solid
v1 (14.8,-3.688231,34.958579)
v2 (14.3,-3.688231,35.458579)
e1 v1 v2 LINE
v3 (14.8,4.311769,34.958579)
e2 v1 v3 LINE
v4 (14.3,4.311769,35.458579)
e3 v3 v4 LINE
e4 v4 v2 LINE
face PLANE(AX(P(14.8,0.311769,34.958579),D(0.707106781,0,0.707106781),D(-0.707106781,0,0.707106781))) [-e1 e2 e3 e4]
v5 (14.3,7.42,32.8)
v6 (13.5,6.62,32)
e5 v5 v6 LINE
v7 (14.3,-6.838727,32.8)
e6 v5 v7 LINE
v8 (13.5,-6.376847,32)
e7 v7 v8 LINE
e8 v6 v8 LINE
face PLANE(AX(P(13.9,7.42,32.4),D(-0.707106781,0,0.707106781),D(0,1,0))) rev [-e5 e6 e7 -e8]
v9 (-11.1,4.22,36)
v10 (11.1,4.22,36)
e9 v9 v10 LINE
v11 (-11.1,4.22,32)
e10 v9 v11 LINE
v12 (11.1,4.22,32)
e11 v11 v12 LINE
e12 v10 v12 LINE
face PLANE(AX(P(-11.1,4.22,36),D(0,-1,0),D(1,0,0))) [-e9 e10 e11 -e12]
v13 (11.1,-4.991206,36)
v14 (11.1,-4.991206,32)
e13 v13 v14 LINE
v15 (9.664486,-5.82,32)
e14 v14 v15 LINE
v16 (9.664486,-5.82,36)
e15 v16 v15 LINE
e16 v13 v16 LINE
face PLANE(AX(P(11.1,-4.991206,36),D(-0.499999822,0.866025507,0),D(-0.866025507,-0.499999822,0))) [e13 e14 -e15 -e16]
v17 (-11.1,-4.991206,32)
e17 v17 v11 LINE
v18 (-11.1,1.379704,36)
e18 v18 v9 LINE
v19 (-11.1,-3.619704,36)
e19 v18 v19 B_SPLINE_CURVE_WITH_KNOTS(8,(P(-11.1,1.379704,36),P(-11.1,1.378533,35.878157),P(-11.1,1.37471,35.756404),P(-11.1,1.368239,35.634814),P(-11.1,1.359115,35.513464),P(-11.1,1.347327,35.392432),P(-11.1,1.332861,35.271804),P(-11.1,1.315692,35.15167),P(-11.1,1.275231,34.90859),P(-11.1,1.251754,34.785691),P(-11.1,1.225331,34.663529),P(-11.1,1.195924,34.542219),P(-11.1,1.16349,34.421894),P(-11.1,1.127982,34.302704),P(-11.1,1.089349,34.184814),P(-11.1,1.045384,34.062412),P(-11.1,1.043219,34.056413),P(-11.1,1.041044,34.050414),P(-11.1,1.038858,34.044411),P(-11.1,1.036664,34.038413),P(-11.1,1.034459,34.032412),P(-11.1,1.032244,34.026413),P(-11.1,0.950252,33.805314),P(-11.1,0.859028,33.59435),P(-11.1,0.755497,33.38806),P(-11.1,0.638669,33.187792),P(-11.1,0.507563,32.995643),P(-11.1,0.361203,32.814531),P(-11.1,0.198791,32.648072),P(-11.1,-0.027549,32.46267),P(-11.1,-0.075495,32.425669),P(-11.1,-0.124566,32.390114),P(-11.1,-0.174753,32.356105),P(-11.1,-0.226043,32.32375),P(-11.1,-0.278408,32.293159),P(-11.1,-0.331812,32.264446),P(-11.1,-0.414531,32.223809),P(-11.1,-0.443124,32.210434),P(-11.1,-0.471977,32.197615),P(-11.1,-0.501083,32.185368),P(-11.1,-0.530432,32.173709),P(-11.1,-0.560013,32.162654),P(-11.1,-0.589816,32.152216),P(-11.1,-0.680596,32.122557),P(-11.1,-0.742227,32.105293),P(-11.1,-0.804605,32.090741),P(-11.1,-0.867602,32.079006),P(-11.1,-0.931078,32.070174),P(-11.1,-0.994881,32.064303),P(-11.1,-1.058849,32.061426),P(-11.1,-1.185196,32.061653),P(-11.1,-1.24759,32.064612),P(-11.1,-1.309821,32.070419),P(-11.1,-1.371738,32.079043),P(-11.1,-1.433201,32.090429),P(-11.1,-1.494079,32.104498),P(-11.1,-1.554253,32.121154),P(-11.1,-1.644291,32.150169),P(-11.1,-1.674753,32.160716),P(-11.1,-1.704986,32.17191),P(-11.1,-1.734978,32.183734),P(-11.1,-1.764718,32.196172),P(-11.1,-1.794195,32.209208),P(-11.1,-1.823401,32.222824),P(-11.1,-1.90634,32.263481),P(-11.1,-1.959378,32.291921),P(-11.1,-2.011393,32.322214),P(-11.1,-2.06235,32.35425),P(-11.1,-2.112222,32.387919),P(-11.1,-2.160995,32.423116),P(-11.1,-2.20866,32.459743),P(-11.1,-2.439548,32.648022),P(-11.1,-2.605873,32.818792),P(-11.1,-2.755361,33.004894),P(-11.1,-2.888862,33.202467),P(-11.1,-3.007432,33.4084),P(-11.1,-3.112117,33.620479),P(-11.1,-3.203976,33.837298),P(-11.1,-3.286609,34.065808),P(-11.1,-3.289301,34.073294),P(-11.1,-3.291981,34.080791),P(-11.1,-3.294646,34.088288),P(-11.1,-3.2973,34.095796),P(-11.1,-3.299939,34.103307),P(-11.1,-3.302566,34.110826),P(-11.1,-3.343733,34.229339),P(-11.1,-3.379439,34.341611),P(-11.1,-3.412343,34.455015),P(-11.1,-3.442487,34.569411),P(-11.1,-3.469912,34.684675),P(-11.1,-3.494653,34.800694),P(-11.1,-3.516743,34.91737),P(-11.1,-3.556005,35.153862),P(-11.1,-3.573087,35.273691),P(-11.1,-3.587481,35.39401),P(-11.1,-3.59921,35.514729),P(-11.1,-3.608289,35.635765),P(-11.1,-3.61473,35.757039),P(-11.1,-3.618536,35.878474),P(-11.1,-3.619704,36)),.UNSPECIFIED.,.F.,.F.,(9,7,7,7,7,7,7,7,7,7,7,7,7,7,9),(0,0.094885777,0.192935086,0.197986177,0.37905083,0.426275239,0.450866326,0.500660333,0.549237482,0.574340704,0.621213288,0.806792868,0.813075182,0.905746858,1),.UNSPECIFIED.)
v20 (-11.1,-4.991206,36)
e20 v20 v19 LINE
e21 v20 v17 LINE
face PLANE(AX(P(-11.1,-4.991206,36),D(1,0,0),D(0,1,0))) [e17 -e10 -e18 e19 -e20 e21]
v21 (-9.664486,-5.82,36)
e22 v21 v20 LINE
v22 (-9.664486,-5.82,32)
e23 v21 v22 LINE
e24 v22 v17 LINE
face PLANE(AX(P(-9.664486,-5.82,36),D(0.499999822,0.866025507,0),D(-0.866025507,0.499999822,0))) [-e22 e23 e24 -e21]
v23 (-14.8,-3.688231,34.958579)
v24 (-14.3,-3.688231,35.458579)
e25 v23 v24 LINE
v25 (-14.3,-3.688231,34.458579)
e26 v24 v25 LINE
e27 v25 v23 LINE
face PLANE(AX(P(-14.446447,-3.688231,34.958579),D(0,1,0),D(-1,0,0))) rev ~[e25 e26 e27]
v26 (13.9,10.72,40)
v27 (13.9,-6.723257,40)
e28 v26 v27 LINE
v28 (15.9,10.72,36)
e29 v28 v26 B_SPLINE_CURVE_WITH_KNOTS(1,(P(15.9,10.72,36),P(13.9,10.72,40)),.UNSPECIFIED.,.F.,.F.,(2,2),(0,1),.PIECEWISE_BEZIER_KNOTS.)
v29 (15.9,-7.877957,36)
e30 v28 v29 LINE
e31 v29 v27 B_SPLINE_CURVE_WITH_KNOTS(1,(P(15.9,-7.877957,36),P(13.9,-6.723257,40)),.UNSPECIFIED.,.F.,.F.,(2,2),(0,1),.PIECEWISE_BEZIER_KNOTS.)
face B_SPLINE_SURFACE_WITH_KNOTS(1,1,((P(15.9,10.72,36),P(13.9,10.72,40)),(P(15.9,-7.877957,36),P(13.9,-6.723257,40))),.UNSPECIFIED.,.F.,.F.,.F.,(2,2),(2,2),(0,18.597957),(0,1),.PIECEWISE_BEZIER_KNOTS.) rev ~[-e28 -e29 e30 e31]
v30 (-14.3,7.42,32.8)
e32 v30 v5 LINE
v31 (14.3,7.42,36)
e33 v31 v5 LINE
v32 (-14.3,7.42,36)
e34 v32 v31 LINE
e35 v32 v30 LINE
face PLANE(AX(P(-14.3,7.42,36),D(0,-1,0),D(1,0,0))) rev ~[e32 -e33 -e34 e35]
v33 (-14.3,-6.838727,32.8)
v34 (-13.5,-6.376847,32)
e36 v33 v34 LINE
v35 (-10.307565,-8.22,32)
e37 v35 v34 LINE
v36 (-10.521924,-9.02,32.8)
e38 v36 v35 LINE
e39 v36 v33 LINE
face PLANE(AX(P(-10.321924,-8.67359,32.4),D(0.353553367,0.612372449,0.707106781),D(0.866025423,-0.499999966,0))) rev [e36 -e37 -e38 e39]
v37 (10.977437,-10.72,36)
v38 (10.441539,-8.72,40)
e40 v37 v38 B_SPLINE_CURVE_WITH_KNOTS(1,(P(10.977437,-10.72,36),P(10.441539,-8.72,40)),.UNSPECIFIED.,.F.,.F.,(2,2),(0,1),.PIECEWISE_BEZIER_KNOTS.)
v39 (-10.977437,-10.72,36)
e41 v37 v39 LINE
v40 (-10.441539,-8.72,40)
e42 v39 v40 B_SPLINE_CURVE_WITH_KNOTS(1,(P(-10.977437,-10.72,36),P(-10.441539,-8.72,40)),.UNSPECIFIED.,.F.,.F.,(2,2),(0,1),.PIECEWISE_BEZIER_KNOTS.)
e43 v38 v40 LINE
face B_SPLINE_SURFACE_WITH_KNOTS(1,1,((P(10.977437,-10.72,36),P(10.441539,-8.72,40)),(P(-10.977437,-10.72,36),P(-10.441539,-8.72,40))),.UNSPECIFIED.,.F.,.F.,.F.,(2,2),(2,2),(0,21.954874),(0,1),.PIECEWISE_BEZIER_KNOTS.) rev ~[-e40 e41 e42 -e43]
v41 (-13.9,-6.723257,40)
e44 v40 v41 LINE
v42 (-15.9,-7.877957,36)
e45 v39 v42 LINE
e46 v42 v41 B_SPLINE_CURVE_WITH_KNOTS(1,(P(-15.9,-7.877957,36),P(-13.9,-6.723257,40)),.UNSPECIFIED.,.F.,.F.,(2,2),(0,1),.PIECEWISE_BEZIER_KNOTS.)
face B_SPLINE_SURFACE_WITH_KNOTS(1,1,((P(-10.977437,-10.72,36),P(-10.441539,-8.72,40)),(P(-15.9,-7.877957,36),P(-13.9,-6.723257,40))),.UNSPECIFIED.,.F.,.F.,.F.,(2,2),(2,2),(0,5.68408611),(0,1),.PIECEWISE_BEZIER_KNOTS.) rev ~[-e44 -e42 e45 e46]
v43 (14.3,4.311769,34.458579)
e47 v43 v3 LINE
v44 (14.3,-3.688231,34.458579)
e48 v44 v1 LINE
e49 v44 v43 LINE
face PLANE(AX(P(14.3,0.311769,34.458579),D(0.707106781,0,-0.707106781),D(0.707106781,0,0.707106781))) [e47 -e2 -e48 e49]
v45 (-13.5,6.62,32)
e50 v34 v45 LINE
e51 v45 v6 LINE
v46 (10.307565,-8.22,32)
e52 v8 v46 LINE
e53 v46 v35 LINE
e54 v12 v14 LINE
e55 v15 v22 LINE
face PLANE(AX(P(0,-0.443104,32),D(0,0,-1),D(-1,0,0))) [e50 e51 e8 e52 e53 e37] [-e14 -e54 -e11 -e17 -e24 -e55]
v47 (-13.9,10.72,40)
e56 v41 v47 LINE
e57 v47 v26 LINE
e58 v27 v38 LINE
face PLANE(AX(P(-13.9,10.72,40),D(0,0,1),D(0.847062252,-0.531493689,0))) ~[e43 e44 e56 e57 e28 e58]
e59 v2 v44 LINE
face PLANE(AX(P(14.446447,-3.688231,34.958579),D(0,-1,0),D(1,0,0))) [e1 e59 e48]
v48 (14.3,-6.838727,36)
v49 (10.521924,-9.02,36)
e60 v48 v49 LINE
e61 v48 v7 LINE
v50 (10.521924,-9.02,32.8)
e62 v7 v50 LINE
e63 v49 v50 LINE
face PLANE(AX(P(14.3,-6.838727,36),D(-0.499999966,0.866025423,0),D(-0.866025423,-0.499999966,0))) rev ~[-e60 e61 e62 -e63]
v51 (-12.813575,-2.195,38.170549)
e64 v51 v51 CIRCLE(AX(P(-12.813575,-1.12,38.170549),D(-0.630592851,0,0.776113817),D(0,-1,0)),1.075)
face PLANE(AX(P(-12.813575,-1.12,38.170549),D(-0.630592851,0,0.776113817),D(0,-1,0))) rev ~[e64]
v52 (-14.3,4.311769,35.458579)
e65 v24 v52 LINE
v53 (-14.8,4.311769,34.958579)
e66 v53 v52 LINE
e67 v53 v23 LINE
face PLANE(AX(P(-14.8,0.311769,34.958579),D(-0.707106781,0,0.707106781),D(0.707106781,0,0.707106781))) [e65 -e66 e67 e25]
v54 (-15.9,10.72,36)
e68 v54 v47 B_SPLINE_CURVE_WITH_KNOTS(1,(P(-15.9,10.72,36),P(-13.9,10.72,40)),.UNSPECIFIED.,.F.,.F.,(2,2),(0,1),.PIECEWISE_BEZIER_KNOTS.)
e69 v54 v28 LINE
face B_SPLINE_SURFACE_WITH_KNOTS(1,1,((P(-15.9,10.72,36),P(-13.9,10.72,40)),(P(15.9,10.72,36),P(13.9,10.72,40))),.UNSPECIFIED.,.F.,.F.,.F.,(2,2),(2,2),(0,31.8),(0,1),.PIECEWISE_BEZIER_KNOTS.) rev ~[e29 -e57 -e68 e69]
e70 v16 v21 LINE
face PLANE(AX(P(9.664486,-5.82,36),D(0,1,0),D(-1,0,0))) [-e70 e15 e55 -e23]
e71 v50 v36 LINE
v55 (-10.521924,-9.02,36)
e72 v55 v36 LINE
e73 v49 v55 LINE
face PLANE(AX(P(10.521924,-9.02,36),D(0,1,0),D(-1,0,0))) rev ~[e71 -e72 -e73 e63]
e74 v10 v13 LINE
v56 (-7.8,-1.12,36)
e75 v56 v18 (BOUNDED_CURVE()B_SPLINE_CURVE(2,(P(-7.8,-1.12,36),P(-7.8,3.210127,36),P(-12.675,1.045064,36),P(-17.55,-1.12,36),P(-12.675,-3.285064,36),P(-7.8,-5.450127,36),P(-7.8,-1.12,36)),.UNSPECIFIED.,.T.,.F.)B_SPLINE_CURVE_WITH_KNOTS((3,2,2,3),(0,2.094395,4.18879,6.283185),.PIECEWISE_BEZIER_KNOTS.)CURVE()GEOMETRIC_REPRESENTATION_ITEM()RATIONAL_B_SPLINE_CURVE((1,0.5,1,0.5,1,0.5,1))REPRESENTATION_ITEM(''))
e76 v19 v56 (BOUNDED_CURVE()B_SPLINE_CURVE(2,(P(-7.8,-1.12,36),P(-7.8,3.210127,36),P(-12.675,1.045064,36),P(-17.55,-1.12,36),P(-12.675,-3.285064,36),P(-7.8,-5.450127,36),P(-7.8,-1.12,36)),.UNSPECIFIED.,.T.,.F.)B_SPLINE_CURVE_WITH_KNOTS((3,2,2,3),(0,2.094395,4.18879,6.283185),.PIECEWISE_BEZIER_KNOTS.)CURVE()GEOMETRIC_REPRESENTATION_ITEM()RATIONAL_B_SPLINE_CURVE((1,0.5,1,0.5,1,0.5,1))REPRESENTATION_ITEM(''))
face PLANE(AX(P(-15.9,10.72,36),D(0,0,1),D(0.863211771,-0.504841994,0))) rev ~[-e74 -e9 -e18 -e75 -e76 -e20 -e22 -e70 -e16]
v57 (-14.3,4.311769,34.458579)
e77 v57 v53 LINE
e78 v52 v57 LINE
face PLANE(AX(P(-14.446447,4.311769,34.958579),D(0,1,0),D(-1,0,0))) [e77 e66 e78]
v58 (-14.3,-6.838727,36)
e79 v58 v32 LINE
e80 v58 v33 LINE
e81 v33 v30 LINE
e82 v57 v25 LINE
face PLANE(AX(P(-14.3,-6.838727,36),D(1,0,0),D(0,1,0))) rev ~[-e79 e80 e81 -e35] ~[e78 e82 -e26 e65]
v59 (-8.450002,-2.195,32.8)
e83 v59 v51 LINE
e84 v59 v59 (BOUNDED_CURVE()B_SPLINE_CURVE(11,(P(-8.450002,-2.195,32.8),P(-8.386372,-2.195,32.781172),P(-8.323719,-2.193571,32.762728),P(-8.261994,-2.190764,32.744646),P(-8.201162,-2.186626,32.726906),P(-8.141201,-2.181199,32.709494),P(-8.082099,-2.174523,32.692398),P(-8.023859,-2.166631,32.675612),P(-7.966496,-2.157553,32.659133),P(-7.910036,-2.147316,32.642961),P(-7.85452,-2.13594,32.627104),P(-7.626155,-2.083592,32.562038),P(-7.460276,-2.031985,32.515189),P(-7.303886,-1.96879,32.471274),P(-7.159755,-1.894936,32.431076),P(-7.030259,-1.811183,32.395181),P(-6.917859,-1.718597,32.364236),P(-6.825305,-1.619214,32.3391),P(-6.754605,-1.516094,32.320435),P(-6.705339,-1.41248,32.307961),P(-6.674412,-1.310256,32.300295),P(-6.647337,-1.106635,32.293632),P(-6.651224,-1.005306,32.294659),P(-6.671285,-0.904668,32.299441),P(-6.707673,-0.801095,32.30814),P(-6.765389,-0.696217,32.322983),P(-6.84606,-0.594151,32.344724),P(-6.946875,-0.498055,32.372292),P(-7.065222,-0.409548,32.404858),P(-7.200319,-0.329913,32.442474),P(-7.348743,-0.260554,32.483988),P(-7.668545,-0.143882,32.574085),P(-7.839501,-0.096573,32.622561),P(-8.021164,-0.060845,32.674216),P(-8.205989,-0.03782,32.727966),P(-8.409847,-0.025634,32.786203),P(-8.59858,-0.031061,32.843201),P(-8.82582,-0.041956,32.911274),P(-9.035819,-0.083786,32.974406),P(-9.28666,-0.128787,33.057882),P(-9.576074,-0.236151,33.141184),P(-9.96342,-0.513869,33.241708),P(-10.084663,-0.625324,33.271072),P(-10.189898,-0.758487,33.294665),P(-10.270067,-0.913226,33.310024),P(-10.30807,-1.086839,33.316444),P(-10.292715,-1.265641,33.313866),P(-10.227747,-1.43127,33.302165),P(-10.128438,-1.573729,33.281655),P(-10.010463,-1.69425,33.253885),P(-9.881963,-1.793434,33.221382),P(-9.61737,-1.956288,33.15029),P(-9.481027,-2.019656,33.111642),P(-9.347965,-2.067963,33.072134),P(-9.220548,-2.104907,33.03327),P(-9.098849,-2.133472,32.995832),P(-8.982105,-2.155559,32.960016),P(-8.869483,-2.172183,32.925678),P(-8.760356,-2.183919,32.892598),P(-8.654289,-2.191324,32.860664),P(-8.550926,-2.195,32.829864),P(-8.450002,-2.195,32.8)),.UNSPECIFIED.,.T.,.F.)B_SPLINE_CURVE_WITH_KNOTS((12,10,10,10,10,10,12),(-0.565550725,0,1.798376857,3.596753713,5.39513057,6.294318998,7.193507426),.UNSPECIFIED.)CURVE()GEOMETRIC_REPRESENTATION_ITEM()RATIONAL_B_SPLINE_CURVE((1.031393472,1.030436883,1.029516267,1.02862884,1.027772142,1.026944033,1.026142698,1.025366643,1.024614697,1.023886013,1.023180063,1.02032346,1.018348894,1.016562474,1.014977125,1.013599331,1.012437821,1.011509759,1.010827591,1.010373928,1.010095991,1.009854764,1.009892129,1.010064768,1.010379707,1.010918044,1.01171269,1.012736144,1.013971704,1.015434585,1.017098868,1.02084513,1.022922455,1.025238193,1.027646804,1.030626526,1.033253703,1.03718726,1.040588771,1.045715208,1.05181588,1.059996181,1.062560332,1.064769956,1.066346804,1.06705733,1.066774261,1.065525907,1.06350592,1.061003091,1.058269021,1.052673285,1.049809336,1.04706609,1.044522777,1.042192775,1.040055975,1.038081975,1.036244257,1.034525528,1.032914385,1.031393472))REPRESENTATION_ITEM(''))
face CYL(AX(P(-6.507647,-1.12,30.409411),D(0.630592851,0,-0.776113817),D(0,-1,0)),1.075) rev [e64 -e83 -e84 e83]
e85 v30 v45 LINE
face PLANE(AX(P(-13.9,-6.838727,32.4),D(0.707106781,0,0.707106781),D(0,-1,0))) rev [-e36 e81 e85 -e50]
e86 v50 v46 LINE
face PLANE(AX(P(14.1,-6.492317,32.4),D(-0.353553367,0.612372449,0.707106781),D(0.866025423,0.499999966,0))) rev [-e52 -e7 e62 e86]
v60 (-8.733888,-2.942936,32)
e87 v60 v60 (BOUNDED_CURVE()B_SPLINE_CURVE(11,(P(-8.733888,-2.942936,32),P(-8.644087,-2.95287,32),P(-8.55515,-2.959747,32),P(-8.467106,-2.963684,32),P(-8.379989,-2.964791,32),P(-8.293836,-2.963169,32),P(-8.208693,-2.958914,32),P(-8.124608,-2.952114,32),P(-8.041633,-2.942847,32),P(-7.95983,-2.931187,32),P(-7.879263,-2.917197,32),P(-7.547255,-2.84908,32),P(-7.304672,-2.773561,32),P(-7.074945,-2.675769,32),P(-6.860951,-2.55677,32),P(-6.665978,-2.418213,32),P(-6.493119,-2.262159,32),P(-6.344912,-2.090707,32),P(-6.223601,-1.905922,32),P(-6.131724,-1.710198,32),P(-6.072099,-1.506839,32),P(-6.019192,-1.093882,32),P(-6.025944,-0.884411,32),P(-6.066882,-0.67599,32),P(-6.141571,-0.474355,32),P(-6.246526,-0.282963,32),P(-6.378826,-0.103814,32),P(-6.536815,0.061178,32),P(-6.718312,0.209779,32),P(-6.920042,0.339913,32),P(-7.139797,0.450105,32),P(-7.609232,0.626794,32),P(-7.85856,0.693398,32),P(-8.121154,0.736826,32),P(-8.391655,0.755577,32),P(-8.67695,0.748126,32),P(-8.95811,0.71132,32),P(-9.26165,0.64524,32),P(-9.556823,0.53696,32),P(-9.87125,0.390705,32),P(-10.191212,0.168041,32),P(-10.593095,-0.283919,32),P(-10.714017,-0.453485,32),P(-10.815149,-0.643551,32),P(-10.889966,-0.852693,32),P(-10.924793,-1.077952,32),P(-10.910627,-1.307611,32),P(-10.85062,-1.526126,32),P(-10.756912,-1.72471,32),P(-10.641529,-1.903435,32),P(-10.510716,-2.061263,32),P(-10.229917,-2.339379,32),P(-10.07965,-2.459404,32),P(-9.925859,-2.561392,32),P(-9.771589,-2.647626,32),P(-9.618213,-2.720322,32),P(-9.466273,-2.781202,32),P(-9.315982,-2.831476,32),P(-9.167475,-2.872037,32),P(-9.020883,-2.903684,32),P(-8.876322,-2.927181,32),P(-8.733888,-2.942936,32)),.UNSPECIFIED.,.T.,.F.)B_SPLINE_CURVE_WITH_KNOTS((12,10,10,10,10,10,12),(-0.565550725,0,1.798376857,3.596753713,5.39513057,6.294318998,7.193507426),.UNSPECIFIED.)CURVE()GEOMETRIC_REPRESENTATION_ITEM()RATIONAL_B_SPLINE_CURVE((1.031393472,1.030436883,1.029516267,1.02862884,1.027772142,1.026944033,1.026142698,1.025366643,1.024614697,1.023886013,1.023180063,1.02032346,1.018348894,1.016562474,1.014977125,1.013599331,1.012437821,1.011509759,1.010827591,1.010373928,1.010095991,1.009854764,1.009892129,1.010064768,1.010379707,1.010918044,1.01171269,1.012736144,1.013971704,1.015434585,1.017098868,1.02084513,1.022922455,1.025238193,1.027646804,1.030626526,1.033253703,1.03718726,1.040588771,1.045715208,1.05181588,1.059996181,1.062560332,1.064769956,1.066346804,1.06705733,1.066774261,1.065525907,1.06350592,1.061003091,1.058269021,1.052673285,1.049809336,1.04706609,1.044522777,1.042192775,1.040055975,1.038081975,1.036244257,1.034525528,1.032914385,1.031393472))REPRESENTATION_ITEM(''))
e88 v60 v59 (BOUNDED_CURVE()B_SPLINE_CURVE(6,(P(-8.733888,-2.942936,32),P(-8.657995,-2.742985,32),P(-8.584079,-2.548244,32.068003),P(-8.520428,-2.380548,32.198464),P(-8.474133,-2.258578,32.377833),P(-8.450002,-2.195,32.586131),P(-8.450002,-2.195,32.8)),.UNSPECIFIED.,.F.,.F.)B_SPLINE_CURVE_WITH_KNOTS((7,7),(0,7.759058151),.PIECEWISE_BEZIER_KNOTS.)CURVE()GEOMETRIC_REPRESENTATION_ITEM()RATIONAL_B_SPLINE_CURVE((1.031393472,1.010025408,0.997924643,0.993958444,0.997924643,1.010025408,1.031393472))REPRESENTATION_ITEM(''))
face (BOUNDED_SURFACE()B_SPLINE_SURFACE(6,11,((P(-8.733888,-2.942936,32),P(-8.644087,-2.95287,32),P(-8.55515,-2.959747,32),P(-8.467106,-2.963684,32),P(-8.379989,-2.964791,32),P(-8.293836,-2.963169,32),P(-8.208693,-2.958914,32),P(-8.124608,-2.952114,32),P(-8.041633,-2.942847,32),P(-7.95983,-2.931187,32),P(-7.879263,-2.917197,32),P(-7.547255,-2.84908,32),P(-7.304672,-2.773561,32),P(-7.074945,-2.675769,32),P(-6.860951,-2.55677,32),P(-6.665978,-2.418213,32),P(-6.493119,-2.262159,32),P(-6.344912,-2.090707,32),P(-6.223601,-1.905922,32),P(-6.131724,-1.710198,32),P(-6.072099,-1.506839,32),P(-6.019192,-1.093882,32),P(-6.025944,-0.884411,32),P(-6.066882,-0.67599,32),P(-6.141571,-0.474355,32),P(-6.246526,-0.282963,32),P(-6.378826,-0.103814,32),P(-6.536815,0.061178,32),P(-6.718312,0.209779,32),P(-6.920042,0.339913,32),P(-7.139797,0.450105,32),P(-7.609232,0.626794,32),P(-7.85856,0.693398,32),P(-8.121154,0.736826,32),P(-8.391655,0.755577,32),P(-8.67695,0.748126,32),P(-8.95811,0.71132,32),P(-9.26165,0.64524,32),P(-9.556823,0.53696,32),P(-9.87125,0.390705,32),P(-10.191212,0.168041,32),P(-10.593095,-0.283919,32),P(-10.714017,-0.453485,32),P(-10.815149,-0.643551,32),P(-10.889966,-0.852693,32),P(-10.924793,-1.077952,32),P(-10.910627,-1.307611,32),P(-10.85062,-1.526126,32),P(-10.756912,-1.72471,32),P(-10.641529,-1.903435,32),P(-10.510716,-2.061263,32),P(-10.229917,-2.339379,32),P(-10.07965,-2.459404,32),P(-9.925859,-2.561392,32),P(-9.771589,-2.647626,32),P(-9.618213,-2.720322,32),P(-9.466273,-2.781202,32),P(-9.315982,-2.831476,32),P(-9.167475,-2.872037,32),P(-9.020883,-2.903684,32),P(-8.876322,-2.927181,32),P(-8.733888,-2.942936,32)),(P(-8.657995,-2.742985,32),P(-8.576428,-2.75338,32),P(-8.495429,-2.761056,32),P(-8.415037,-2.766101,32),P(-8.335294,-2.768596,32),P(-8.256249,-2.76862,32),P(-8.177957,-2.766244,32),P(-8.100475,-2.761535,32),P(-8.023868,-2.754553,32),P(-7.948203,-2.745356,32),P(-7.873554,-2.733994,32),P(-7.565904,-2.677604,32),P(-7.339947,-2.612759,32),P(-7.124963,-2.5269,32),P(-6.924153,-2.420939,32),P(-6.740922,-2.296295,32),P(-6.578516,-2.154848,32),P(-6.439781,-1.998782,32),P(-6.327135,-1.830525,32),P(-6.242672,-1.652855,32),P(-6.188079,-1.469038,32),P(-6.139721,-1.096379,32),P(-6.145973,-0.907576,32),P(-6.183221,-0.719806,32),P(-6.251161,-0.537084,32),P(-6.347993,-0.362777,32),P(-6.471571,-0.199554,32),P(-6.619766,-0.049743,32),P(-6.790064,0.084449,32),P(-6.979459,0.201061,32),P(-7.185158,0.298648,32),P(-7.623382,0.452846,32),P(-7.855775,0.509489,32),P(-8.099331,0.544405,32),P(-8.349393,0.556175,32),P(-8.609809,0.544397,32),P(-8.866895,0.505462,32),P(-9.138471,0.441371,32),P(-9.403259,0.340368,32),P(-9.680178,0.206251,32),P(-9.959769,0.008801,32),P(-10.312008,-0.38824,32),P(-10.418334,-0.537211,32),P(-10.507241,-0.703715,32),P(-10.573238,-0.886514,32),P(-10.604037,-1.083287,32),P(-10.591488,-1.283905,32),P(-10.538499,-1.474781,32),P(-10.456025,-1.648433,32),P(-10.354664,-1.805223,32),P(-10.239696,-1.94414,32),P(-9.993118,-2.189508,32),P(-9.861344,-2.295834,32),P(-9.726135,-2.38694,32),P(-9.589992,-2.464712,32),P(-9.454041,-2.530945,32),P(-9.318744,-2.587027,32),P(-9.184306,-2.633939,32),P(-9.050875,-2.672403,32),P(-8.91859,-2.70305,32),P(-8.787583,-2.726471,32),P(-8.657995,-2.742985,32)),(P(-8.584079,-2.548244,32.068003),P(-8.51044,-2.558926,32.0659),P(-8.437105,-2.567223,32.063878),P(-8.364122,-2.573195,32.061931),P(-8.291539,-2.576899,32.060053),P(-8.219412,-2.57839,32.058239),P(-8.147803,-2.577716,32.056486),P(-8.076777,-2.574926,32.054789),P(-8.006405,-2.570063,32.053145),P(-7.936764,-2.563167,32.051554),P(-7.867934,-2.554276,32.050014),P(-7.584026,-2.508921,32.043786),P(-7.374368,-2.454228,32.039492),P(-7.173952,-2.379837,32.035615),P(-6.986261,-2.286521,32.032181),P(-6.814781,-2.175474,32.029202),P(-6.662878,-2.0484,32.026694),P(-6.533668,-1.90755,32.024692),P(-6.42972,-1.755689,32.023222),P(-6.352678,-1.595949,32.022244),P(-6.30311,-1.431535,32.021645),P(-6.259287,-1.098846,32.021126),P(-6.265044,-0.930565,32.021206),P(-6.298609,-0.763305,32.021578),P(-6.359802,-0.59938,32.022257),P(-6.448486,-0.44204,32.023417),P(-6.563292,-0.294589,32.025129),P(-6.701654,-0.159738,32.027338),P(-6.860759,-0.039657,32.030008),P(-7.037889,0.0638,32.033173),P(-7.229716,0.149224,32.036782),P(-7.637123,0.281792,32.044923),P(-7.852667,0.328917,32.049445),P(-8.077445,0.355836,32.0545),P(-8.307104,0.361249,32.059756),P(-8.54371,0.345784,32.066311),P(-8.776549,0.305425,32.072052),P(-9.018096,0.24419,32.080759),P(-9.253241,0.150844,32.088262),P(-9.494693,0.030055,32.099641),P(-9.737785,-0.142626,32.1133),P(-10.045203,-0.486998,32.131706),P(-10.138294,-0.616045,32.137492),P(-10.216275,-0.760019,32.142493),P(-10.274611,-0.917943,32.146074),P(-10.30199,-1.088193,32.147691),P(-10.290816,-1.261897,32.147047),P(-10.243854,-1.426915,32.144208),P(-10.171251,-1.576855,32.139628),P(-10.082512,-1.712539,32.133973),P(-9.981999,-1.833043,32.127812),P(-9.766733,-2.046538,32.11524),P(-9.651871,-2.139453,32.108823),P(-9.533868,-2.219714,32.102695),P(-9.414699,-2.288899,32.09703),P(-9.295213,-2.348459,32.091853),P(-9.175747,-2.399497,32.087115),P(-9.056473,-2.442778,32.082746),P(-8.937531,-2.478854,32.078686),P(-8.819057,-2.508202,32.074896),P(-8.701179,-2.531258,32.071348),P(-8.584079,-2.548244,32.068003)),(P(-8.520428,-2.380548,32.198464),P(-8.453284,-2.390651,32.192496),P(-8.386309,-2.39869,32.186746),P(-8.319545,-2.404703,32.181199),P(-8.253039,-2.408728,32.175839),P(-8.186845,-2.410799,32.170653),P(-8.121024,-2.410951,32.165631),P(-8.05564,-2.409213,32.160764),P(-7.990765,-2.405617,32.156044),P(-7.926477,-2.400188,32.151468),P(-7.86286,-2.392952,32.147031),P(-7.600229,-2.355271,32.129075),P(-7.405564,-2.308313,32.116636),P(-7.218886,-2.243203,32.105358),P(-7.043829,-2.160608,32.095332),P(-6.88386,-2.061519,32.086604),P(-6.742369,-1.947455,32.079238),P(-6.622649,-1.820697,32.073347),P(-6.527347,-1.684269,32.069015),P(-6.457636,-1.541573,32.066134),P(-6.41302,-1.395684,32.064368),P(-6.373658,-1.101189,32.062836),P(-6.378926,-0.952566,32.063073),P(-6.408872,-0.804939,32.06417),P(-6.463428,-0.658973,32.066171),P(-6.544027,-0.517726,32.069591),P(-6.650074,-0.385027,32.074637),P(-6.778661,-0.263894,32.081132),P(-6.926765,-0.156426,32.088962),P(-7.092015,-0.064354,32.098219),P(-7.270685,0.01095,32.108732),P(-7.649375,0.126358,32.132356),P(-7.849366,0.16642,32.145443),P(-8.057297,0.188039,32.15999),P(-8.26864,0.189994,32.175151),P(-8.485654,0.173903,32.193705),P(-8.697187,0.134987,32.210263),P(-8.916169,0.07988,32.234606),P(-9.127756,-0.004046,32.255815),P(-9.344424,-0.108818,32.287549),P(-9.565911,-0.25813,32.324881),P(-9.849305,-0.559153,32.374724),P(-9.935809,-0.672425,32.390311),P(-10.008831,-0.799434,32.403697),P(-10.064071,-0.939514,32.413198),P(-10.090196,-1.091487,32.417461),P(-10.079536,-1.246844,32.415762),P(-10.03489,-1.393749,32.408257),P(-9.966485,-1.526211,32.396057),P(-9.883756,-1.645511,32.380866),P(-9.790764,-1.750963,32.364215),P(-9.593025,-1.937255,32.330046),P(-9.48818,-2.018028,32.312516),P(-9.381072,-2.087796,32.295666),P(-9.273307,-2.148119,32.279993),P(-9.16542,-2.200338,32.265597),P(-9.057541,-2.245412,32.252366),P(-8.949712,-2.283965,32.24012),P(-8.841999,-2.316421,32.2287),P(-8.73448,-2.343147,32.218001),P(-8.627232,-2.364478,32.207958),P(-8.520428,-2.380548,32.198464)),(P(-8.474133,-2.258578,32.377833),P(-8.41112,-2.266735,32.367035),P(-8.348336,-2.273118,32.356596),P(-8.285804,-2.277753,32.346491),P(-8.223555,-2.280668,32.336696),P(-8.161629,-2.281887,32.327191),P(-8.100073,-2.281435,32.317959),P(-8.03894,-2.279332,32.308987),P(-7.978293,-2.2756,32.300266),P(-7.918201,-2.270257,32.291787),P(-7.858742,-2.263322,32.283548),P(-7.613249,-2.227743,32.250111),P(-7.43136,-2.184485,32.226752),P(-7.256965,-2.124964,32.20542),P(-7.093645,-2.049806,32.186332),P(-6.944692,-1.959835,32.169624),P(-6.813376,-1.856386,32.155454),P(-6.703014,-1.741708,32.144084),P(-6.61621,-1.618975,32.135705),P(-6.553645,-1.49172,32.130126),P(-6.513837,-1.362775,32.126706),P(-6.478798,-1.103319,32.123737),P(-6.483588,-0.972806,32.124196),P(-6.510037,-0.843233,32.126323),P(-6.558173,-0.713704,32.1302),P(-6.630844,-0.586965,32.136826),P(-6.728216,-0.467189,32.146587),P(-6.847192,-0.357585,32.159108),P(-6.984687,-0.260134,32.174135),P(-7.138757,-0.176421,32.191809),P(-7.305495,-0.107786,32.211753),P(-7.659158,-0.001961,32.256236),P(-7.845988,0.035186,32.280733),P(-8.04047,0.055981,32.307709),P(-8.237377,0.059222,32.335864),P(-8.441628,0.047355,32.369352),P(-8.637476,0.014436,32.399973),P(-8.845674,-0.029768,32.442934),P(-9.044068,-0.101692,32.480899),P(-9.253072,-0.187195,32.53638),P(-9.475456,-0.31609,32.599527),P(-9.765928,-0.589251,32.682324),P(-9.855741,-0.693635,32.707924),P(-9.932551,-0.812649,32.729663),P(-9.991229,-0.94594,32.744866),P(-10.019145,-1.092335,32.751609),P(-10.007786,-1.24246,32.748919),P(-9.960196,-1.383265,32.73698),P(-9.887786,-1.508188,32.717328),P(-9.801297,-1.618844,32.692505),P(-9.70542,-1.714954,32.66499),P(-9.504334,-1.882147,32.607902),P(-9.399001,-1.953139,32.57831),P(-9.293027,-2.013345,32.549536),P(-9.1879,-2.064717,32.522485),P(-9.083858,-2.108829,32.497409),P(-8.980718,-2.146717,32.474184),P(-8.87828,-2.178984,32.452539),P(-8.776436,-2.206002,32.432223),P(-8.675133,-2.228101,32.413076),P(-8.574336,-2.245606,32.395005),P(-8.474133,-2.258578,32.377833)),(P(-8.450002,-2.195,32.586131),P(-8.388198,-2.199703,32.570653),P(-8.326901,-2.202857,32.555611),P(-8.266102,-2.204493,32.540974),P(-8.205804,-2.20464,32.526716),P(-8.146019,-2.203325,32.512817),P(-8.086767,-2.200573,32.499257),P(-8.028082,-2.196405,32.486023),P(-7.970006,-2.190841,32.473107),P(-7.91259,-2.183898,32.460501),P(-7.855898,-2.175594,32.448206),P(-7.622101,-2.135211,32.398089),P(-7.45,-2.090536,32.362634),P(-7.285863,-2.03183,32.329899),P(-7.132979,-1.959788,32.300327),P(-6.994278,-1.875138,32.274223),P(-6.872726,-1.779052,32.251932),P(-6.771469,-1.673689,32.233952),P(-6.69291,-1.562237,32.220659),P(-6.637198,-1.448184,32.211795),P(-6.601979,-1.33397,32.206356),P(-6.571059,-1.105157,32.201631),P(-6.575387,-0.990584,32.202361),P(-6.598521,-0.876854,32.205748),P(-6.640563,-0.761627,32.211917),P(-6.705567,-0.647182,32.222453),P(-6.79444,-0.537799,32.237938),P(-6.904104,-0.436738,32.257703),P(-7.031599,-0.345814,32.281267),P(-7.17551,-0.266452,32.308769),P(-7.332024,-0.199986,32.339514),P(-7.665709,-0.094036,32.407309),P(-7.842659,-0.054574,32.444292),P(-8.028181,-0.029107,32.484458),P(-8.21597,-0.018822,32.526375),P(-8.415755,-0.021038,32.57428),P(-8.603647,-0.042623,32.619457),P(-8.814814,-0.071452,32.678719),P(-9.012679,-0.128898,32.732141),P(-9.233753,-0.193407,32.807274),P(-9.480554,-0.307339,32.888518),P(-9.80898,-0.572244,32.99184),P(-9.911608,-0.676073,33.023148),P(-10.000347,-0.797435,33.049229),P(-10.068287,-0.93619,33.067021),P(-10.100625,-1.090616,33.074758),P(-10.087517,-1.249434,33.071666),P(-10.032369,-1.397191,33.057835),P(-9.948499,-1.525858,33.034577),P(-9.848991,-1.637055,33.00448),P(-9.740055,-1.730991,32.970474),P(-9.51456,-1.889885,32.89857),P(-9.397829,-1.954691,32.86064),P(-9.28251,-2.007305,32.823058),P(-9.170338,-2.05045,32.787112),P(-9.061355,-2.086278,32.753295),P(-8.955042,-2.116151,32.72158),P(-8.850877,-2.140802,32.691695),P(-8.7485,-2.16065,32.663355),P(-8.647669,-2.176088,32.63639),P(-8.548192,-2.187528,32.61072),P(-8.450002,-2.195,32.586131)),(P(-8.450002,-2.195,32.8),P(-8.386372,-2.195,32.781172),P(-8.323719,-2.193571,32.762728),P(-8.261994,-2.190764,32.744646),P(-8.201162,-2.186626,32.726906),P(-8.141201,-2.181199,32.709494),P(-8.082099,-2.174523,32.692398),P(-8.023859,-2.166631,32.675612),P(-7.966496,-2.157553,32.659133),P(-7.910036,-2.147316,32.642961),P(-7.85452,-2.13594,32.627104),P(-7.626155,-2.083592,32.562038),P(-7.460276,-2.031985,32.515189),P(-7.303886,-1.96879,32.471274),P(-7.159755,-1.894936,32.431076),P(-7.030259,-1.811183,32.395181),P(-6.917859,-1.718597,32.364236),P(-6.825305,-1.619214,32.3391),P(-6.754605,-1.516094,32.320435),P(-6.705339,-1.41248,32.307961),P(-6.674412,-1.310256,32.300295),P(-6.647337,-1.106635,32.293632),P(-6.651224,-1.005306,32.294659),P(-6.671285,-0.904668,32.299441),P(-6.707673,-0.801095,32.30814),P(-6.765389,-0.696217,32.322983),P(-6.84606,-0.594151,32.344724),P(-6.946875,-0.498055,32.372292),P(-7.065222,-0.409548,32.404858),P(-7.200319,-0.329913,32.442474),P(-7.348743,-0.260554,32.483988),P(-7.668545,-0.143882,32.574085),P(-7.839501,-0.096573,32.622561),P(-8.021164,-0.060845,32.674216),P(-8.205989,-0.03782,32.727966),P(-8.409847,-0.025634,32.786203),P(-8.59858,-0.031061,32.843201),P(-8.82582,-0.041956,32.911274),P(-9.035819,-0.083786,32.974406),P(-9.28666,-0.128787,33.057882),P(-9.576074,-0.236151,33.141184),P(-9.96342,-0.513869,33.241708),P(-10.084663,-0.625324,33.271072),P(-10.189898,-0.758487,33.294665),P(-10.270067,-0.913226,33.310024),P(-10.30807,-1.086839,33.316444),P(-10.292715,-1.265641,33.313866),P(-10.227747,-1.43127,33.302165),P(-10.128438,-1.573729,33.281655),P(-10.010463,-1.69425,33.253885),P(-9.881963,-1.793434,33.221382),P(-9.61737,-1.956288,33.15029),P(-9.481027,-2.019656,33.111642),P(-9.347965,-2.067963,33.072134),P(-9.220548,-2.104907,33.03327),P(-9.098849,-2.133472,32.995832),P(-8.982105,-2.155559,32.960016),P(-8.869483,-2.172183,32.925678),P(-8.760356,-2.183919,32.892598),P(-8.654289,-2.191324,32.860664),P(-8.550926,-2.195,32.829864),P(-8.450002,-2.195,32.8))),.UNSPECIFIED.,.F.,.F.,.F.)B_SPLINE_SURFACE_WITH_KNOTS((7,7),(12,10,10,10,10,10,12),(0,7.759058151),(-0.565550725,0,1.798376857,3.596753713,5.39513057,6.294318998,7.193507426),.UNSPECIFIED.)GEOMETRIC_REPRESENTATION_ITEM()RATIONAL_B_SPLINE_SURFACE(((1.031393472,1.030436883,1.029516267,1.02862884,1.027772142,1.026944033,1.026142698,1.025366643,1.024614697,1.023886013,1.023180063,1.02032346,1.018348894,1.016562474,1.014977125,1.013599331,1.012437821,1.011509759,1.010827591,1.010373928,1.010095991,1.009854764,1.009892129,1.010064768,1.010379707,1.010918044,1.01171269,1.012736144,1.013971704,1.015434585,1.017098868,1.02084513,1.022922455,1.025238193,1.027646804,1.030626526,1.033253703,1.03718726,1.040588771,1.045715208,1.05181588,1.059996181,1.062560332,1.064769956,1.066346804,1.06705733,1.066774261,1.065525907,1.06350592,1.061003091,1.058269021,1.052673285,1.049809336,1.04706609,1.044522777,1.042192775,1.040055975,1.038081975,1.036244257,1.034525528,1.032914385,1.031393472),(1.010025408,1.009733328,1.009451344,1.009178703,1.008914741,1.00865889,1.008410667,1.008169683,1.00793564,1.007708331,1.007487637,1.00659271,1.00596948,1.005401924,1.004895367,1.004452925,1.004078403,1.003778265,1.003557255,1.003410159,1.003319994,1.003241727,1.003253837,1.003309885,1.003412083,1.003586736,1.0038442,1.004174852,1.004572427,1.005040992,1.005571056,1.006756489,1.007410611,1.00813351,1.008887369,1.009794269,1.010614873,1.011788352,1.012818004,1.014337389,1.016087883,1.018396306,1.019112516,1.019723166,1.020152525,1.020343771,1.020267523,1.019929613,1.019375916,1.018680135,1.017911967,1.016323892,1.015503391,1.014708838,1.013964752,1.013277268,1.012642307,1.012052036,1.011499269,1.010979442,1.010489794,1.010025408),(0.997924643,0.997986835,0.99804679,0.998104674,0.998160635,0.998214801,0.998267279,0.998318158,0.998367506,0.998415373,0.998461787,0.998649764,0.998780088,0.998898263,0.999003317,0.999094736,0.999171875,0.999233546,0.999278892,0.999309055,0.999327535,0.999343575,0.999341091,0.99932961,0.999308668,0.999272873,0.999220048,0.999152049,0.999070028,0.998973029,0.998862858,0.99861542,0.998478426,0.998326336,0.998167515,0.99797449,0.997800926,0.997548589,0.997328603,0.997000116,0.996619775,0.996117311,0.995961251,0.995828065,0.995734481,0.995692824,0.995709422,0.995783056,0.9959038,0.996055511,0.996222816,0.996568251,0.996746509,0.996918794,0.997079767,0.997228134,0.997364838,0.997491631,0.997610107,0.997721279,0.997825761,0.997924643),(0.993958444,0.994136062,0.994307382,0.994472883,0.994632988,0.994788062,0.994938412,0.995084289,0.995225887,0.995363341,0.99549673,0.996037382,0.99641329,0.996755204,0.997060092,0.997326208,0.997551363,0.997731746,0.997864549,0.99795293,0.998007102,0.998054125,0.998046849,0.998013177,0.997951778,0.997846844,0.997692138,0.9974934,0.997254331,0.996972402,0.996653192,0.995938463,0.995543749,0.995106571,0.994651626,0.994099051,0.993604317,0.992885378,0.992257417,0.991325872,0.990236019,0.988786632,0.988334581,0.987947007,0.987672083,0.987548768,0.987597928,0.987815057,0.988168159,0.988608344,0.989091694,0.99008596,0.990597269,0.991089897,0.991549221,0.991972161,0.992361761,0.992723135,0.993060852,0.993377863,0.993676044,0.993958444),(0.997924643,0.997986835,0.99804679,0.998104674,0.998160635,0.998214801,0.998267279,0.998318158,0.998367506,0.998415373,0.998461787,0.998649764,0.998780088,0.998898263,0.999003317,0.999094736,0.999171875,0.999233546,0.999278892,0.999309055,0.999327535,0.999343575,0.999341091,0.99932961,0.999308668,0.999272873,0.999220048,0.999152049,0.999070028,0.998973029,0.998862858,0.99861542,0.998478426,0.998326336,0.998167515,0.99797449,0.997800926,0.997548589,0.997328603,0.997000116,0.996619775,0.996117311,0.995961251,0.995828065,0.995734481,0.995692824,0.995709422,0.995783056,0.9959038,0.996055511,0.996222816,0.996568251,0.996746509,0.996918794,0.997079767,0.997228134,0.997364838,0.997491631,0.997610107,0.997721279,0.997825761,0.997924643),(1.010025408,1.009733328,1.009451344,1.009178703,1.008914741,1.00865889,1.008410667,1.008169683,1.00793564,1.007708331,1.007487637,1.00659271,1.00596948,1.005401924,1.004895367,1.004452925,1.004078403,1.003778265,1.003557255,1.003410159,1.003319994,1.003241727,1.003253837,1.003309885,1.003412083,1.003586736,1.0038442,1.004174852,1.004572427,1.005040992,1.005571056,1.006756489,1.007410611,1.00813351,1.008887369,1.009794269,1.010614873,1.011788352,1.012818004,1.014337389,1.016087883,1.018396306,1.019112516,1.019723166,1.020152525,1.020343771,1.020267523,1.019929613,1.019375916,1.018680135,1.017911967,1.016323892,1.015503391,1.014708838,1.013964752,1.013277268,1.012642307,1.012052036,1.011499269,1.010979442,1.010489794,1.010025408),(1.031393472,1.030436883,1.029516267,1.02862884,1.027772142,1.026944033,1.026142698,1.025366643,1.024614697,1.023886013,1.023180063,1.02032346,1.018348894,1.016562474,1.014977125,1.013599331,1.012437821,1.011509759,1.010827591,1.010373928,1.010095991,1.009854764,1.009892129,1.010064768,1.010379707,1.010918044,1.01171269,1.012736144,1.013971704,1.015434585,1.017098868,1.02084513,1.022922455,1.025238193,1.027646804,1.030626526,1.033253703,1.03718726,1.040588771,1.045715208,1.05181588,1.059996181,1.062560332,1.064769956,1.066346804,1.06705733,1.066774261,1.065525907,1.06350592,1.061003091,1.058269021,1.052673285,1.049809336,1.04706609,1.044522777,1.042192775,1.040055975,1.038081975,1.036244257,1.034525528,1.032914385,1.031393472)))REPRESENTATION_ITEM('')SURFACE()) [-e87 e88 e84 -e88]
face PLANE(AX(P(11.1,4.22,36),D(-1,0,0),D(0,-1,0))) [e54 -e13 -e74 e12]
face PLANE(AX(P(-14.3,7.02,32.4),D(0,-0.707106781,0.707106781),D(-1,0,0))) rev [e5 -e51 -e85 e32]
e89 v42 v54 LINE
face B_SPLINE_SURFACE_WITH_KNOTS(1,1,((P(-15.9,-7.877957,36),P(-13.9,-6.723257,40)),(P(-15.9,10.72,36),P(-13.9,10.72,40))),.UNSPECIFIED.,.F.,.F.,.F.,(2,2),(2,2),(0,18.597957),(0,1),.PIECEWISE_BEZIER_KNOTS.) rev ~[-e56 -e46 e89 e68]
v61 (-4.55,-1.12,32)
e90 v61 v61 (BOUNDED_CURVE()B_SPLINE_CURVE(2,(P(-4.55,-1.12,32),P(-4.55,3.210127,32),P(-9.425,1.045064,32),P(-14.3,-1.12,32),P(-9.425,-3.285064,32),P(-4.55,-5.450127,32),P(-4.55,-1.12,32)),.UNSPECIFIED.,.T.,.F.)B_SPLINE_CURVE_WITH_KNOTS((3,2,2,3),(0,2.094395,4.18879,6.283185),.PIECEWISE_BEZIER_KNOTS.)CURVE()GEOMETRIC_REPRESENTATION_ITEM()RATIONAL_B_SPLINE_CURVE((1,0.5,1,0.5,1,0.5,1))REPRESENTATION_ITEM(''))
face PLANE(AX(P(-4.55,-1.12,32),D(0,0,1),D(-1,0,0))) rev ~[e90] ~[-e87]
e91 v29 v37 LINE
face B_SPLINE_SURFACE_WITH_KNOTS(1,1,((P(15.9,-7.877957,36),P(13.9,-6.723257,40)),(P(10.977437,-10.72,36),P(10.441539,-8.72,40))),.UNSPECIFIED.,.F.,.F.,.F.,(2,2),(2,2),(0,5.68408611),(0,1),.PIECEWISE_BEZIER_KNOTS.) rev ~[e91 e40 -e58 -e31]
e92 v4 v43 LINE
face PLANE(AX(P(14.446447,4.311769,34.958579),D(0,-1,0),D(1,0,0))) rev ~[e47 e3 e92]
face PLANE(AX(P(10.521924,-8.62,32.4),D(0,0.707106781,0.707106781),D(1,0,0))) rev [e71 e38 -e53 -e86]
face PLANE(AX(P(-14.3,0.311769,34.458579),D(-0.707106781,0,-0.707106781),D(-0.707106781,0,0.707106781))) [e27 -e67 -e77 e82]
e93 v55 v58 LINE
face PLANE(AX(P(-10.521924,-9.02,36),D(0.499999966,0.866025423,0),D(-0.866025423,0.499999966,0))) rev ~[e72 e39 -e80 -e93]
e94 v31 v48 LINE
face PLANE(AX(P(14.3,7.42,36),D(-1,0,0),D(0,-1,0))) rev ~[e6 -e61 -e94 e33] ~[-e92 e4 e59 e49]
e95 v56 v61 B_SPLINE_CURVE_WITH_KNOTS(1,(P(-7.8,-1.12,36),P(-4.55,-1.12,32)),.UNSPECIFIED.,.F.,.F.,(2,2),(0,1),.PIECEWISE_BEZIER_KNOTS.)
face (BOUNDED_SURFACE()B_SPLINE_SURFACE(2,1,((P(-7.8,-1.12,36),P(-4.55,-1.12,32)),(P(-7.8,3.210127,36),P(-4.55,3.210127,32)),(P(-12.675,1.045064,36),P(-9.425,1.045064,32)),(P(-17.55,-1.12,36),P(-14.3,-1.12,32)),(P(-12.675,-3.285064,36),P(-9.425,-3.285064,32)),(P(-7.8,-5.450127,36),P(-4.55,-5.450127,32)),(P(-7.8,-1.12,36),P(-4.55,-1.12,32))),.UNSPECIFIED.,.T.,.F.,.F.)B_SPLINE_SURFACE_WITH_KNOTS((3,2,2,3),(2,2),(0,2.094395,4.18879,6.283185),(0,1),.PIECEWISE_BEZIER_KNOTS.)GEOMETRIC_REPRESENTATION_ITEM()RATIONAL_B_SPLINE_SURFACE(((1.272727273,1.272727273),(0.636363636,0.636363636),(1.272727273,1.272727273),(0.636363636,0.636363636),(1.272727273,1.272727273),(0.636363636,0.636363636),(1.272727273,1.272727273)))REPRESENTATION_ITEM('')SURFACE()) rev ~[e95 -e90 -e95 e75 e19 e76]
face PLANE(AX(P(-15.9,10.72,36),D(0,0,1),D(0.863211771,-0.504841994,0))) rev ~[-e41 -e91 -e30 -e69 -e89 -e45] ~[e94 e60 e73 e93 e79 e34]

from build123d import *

# Parameters (mm, degrees)
PAD004_DEPTH    = 4
CHAMFER002_SIZE = 0.8
PAD015_DEPTH    = 4
SKETCH039_R     = 1.075
POCKET005_DEPTH = 10
FILLET003_R     = 0.8


with BuildPart() as part:
    # Sketch015 → AdditiveLoft001 section 0
    with BuildSketch(Plane.XY.offset(36)):
        Polygon((-15.9, 10.72), (15.9, 10.72), (15.9, -7.877957), (10.977437, -10.72), (-10.977437, -10.72), (-15.9, -7.877957), align=None)
    # Sketch016 → AdditiveLoft001 section 1
    with BuildSketch(Plane.XY.offset(40)):
        Polygon((-13.9, -6.723257), (-13.9, 10.72), (13.9, 10.72), (13.9, -6.723257), (10.441539, -8.72), (-10.441539, -8.72), align=None)
    loft()

    # Sketch017 → Pad004 (new body)
    with BuildSketch(Plane.XY.offset(36)):
        Polygon((-14.3, 7.42), (14.3, 7.42), (14.3, -6.838727), (10.521924, -9.02), (-10.521924, -9.02), (-14.3, -6.838727), align=None)
        Polygon((-11.1, 4.22), (11.1, 4.22), (11.1, -4.991206), (9.664486, -5.82), (-9.664486, -5.82), (-11.1, -4.991206), align=None, mode=Mode.SUBTRACT)
    extrude(amount=-PAD004_DEPTH)

    # Chamfer002
    chamfer002_edges = [part.edges().sort_by_distance(p)[0] for p in [
        (-14.3, 0.290637, 32),
        (-12.410962, -7.929363, 32),
        (0, -9.02, 32),
        (12.410962, -7.929363, 32),
        (14.3, 0.290637, 32),
        (0, 7.42, 32),
    ]]
    chamfer(chamfer002_edges, length=CHAMFER002_SIZE)

    # Sketch040 (on DatumPlane) → Pad015 (join, symmetric)
    with BuildSketch(Plane(origin=(-14.8, 0.311769, 0), x_dir=(-1, 0, 0), z_dir=(0, 1, 0))):
        Polygon((-29.6, 34.958579), (-29.1, 35.458579), (-29.1, 34.458579), align=None)
        Polygon((0, 34.958579), (-0.5, 35.458579), (-0.5, 34.458579), align=None)
    extrude(amount=PAD015_DEPTH, both=True)

    # Sketch018 → AdditiveLoft002 section 0
    with BuildSketch(Plane.XY.offset(36)):
        with BuildLine():
            add(Edge.make_bspline(
                [(-7.8, -1.12), (-7.8, 3.210127), (-12.675, 1.045064), (-17.55, -1.12), (-12.675, -3.285064), (-7.8, -5.450127), (-7.8, -1.12)],
                knots=[0, 0, 0, 2.094395, 2.094395, 4.18879, 4.18879, 6.283185, 6.283185, 6.283185], degree=2, weights=[1, 0.5, 1, 0.5, 1, 0.5, 1]))
        make_face()
    # Sketch019 → AdditiveLoft002 section 1
    with BuildSketch(Plane.XY.offset(32)):
        with BuildLine():
            add(Edge.make_bspline(
                [(-4.55, -1.12), (-4.55, 3.210127), (-9.425, 1.045064), (-14.3, -1.12), (-9.425, -3.285064), (-4.55, -5.450127), (-4.55, -1.12)],
                knots=[0, 0, 0, 2.094395, 2.094395, 4.18879, 4.18879, 6.283185, 6.283185, 6.283185], degree=2, weights=[1, 0.5, 1, 0.5, 1, 0.5, 1]))
        make_face()
    loft()

    # Sketch039 (on DatumPlane) → Pocket005 (cut)
    with BuildSketch(Plane(origin=(-4.55, -1.12, 32), x_dir=(0, -1, 0), z_dir=(-0.630593, 0, 0.776114))):
        with Locations((0, -2.522371)):
            Circle(SKETCH039_R)
    extrude(amount=POCKET005_DEPTH, mode=Mode.SUBTRACT)

    # Fillet003
    fillet003_edges = [part.edges().sort_by_distance(p)[0] for p in [
        (-7.799837, -0.045, 32),
    ]]
    fillet(fillet003_edges, radius=FILLET003_R)


solid = part.part
